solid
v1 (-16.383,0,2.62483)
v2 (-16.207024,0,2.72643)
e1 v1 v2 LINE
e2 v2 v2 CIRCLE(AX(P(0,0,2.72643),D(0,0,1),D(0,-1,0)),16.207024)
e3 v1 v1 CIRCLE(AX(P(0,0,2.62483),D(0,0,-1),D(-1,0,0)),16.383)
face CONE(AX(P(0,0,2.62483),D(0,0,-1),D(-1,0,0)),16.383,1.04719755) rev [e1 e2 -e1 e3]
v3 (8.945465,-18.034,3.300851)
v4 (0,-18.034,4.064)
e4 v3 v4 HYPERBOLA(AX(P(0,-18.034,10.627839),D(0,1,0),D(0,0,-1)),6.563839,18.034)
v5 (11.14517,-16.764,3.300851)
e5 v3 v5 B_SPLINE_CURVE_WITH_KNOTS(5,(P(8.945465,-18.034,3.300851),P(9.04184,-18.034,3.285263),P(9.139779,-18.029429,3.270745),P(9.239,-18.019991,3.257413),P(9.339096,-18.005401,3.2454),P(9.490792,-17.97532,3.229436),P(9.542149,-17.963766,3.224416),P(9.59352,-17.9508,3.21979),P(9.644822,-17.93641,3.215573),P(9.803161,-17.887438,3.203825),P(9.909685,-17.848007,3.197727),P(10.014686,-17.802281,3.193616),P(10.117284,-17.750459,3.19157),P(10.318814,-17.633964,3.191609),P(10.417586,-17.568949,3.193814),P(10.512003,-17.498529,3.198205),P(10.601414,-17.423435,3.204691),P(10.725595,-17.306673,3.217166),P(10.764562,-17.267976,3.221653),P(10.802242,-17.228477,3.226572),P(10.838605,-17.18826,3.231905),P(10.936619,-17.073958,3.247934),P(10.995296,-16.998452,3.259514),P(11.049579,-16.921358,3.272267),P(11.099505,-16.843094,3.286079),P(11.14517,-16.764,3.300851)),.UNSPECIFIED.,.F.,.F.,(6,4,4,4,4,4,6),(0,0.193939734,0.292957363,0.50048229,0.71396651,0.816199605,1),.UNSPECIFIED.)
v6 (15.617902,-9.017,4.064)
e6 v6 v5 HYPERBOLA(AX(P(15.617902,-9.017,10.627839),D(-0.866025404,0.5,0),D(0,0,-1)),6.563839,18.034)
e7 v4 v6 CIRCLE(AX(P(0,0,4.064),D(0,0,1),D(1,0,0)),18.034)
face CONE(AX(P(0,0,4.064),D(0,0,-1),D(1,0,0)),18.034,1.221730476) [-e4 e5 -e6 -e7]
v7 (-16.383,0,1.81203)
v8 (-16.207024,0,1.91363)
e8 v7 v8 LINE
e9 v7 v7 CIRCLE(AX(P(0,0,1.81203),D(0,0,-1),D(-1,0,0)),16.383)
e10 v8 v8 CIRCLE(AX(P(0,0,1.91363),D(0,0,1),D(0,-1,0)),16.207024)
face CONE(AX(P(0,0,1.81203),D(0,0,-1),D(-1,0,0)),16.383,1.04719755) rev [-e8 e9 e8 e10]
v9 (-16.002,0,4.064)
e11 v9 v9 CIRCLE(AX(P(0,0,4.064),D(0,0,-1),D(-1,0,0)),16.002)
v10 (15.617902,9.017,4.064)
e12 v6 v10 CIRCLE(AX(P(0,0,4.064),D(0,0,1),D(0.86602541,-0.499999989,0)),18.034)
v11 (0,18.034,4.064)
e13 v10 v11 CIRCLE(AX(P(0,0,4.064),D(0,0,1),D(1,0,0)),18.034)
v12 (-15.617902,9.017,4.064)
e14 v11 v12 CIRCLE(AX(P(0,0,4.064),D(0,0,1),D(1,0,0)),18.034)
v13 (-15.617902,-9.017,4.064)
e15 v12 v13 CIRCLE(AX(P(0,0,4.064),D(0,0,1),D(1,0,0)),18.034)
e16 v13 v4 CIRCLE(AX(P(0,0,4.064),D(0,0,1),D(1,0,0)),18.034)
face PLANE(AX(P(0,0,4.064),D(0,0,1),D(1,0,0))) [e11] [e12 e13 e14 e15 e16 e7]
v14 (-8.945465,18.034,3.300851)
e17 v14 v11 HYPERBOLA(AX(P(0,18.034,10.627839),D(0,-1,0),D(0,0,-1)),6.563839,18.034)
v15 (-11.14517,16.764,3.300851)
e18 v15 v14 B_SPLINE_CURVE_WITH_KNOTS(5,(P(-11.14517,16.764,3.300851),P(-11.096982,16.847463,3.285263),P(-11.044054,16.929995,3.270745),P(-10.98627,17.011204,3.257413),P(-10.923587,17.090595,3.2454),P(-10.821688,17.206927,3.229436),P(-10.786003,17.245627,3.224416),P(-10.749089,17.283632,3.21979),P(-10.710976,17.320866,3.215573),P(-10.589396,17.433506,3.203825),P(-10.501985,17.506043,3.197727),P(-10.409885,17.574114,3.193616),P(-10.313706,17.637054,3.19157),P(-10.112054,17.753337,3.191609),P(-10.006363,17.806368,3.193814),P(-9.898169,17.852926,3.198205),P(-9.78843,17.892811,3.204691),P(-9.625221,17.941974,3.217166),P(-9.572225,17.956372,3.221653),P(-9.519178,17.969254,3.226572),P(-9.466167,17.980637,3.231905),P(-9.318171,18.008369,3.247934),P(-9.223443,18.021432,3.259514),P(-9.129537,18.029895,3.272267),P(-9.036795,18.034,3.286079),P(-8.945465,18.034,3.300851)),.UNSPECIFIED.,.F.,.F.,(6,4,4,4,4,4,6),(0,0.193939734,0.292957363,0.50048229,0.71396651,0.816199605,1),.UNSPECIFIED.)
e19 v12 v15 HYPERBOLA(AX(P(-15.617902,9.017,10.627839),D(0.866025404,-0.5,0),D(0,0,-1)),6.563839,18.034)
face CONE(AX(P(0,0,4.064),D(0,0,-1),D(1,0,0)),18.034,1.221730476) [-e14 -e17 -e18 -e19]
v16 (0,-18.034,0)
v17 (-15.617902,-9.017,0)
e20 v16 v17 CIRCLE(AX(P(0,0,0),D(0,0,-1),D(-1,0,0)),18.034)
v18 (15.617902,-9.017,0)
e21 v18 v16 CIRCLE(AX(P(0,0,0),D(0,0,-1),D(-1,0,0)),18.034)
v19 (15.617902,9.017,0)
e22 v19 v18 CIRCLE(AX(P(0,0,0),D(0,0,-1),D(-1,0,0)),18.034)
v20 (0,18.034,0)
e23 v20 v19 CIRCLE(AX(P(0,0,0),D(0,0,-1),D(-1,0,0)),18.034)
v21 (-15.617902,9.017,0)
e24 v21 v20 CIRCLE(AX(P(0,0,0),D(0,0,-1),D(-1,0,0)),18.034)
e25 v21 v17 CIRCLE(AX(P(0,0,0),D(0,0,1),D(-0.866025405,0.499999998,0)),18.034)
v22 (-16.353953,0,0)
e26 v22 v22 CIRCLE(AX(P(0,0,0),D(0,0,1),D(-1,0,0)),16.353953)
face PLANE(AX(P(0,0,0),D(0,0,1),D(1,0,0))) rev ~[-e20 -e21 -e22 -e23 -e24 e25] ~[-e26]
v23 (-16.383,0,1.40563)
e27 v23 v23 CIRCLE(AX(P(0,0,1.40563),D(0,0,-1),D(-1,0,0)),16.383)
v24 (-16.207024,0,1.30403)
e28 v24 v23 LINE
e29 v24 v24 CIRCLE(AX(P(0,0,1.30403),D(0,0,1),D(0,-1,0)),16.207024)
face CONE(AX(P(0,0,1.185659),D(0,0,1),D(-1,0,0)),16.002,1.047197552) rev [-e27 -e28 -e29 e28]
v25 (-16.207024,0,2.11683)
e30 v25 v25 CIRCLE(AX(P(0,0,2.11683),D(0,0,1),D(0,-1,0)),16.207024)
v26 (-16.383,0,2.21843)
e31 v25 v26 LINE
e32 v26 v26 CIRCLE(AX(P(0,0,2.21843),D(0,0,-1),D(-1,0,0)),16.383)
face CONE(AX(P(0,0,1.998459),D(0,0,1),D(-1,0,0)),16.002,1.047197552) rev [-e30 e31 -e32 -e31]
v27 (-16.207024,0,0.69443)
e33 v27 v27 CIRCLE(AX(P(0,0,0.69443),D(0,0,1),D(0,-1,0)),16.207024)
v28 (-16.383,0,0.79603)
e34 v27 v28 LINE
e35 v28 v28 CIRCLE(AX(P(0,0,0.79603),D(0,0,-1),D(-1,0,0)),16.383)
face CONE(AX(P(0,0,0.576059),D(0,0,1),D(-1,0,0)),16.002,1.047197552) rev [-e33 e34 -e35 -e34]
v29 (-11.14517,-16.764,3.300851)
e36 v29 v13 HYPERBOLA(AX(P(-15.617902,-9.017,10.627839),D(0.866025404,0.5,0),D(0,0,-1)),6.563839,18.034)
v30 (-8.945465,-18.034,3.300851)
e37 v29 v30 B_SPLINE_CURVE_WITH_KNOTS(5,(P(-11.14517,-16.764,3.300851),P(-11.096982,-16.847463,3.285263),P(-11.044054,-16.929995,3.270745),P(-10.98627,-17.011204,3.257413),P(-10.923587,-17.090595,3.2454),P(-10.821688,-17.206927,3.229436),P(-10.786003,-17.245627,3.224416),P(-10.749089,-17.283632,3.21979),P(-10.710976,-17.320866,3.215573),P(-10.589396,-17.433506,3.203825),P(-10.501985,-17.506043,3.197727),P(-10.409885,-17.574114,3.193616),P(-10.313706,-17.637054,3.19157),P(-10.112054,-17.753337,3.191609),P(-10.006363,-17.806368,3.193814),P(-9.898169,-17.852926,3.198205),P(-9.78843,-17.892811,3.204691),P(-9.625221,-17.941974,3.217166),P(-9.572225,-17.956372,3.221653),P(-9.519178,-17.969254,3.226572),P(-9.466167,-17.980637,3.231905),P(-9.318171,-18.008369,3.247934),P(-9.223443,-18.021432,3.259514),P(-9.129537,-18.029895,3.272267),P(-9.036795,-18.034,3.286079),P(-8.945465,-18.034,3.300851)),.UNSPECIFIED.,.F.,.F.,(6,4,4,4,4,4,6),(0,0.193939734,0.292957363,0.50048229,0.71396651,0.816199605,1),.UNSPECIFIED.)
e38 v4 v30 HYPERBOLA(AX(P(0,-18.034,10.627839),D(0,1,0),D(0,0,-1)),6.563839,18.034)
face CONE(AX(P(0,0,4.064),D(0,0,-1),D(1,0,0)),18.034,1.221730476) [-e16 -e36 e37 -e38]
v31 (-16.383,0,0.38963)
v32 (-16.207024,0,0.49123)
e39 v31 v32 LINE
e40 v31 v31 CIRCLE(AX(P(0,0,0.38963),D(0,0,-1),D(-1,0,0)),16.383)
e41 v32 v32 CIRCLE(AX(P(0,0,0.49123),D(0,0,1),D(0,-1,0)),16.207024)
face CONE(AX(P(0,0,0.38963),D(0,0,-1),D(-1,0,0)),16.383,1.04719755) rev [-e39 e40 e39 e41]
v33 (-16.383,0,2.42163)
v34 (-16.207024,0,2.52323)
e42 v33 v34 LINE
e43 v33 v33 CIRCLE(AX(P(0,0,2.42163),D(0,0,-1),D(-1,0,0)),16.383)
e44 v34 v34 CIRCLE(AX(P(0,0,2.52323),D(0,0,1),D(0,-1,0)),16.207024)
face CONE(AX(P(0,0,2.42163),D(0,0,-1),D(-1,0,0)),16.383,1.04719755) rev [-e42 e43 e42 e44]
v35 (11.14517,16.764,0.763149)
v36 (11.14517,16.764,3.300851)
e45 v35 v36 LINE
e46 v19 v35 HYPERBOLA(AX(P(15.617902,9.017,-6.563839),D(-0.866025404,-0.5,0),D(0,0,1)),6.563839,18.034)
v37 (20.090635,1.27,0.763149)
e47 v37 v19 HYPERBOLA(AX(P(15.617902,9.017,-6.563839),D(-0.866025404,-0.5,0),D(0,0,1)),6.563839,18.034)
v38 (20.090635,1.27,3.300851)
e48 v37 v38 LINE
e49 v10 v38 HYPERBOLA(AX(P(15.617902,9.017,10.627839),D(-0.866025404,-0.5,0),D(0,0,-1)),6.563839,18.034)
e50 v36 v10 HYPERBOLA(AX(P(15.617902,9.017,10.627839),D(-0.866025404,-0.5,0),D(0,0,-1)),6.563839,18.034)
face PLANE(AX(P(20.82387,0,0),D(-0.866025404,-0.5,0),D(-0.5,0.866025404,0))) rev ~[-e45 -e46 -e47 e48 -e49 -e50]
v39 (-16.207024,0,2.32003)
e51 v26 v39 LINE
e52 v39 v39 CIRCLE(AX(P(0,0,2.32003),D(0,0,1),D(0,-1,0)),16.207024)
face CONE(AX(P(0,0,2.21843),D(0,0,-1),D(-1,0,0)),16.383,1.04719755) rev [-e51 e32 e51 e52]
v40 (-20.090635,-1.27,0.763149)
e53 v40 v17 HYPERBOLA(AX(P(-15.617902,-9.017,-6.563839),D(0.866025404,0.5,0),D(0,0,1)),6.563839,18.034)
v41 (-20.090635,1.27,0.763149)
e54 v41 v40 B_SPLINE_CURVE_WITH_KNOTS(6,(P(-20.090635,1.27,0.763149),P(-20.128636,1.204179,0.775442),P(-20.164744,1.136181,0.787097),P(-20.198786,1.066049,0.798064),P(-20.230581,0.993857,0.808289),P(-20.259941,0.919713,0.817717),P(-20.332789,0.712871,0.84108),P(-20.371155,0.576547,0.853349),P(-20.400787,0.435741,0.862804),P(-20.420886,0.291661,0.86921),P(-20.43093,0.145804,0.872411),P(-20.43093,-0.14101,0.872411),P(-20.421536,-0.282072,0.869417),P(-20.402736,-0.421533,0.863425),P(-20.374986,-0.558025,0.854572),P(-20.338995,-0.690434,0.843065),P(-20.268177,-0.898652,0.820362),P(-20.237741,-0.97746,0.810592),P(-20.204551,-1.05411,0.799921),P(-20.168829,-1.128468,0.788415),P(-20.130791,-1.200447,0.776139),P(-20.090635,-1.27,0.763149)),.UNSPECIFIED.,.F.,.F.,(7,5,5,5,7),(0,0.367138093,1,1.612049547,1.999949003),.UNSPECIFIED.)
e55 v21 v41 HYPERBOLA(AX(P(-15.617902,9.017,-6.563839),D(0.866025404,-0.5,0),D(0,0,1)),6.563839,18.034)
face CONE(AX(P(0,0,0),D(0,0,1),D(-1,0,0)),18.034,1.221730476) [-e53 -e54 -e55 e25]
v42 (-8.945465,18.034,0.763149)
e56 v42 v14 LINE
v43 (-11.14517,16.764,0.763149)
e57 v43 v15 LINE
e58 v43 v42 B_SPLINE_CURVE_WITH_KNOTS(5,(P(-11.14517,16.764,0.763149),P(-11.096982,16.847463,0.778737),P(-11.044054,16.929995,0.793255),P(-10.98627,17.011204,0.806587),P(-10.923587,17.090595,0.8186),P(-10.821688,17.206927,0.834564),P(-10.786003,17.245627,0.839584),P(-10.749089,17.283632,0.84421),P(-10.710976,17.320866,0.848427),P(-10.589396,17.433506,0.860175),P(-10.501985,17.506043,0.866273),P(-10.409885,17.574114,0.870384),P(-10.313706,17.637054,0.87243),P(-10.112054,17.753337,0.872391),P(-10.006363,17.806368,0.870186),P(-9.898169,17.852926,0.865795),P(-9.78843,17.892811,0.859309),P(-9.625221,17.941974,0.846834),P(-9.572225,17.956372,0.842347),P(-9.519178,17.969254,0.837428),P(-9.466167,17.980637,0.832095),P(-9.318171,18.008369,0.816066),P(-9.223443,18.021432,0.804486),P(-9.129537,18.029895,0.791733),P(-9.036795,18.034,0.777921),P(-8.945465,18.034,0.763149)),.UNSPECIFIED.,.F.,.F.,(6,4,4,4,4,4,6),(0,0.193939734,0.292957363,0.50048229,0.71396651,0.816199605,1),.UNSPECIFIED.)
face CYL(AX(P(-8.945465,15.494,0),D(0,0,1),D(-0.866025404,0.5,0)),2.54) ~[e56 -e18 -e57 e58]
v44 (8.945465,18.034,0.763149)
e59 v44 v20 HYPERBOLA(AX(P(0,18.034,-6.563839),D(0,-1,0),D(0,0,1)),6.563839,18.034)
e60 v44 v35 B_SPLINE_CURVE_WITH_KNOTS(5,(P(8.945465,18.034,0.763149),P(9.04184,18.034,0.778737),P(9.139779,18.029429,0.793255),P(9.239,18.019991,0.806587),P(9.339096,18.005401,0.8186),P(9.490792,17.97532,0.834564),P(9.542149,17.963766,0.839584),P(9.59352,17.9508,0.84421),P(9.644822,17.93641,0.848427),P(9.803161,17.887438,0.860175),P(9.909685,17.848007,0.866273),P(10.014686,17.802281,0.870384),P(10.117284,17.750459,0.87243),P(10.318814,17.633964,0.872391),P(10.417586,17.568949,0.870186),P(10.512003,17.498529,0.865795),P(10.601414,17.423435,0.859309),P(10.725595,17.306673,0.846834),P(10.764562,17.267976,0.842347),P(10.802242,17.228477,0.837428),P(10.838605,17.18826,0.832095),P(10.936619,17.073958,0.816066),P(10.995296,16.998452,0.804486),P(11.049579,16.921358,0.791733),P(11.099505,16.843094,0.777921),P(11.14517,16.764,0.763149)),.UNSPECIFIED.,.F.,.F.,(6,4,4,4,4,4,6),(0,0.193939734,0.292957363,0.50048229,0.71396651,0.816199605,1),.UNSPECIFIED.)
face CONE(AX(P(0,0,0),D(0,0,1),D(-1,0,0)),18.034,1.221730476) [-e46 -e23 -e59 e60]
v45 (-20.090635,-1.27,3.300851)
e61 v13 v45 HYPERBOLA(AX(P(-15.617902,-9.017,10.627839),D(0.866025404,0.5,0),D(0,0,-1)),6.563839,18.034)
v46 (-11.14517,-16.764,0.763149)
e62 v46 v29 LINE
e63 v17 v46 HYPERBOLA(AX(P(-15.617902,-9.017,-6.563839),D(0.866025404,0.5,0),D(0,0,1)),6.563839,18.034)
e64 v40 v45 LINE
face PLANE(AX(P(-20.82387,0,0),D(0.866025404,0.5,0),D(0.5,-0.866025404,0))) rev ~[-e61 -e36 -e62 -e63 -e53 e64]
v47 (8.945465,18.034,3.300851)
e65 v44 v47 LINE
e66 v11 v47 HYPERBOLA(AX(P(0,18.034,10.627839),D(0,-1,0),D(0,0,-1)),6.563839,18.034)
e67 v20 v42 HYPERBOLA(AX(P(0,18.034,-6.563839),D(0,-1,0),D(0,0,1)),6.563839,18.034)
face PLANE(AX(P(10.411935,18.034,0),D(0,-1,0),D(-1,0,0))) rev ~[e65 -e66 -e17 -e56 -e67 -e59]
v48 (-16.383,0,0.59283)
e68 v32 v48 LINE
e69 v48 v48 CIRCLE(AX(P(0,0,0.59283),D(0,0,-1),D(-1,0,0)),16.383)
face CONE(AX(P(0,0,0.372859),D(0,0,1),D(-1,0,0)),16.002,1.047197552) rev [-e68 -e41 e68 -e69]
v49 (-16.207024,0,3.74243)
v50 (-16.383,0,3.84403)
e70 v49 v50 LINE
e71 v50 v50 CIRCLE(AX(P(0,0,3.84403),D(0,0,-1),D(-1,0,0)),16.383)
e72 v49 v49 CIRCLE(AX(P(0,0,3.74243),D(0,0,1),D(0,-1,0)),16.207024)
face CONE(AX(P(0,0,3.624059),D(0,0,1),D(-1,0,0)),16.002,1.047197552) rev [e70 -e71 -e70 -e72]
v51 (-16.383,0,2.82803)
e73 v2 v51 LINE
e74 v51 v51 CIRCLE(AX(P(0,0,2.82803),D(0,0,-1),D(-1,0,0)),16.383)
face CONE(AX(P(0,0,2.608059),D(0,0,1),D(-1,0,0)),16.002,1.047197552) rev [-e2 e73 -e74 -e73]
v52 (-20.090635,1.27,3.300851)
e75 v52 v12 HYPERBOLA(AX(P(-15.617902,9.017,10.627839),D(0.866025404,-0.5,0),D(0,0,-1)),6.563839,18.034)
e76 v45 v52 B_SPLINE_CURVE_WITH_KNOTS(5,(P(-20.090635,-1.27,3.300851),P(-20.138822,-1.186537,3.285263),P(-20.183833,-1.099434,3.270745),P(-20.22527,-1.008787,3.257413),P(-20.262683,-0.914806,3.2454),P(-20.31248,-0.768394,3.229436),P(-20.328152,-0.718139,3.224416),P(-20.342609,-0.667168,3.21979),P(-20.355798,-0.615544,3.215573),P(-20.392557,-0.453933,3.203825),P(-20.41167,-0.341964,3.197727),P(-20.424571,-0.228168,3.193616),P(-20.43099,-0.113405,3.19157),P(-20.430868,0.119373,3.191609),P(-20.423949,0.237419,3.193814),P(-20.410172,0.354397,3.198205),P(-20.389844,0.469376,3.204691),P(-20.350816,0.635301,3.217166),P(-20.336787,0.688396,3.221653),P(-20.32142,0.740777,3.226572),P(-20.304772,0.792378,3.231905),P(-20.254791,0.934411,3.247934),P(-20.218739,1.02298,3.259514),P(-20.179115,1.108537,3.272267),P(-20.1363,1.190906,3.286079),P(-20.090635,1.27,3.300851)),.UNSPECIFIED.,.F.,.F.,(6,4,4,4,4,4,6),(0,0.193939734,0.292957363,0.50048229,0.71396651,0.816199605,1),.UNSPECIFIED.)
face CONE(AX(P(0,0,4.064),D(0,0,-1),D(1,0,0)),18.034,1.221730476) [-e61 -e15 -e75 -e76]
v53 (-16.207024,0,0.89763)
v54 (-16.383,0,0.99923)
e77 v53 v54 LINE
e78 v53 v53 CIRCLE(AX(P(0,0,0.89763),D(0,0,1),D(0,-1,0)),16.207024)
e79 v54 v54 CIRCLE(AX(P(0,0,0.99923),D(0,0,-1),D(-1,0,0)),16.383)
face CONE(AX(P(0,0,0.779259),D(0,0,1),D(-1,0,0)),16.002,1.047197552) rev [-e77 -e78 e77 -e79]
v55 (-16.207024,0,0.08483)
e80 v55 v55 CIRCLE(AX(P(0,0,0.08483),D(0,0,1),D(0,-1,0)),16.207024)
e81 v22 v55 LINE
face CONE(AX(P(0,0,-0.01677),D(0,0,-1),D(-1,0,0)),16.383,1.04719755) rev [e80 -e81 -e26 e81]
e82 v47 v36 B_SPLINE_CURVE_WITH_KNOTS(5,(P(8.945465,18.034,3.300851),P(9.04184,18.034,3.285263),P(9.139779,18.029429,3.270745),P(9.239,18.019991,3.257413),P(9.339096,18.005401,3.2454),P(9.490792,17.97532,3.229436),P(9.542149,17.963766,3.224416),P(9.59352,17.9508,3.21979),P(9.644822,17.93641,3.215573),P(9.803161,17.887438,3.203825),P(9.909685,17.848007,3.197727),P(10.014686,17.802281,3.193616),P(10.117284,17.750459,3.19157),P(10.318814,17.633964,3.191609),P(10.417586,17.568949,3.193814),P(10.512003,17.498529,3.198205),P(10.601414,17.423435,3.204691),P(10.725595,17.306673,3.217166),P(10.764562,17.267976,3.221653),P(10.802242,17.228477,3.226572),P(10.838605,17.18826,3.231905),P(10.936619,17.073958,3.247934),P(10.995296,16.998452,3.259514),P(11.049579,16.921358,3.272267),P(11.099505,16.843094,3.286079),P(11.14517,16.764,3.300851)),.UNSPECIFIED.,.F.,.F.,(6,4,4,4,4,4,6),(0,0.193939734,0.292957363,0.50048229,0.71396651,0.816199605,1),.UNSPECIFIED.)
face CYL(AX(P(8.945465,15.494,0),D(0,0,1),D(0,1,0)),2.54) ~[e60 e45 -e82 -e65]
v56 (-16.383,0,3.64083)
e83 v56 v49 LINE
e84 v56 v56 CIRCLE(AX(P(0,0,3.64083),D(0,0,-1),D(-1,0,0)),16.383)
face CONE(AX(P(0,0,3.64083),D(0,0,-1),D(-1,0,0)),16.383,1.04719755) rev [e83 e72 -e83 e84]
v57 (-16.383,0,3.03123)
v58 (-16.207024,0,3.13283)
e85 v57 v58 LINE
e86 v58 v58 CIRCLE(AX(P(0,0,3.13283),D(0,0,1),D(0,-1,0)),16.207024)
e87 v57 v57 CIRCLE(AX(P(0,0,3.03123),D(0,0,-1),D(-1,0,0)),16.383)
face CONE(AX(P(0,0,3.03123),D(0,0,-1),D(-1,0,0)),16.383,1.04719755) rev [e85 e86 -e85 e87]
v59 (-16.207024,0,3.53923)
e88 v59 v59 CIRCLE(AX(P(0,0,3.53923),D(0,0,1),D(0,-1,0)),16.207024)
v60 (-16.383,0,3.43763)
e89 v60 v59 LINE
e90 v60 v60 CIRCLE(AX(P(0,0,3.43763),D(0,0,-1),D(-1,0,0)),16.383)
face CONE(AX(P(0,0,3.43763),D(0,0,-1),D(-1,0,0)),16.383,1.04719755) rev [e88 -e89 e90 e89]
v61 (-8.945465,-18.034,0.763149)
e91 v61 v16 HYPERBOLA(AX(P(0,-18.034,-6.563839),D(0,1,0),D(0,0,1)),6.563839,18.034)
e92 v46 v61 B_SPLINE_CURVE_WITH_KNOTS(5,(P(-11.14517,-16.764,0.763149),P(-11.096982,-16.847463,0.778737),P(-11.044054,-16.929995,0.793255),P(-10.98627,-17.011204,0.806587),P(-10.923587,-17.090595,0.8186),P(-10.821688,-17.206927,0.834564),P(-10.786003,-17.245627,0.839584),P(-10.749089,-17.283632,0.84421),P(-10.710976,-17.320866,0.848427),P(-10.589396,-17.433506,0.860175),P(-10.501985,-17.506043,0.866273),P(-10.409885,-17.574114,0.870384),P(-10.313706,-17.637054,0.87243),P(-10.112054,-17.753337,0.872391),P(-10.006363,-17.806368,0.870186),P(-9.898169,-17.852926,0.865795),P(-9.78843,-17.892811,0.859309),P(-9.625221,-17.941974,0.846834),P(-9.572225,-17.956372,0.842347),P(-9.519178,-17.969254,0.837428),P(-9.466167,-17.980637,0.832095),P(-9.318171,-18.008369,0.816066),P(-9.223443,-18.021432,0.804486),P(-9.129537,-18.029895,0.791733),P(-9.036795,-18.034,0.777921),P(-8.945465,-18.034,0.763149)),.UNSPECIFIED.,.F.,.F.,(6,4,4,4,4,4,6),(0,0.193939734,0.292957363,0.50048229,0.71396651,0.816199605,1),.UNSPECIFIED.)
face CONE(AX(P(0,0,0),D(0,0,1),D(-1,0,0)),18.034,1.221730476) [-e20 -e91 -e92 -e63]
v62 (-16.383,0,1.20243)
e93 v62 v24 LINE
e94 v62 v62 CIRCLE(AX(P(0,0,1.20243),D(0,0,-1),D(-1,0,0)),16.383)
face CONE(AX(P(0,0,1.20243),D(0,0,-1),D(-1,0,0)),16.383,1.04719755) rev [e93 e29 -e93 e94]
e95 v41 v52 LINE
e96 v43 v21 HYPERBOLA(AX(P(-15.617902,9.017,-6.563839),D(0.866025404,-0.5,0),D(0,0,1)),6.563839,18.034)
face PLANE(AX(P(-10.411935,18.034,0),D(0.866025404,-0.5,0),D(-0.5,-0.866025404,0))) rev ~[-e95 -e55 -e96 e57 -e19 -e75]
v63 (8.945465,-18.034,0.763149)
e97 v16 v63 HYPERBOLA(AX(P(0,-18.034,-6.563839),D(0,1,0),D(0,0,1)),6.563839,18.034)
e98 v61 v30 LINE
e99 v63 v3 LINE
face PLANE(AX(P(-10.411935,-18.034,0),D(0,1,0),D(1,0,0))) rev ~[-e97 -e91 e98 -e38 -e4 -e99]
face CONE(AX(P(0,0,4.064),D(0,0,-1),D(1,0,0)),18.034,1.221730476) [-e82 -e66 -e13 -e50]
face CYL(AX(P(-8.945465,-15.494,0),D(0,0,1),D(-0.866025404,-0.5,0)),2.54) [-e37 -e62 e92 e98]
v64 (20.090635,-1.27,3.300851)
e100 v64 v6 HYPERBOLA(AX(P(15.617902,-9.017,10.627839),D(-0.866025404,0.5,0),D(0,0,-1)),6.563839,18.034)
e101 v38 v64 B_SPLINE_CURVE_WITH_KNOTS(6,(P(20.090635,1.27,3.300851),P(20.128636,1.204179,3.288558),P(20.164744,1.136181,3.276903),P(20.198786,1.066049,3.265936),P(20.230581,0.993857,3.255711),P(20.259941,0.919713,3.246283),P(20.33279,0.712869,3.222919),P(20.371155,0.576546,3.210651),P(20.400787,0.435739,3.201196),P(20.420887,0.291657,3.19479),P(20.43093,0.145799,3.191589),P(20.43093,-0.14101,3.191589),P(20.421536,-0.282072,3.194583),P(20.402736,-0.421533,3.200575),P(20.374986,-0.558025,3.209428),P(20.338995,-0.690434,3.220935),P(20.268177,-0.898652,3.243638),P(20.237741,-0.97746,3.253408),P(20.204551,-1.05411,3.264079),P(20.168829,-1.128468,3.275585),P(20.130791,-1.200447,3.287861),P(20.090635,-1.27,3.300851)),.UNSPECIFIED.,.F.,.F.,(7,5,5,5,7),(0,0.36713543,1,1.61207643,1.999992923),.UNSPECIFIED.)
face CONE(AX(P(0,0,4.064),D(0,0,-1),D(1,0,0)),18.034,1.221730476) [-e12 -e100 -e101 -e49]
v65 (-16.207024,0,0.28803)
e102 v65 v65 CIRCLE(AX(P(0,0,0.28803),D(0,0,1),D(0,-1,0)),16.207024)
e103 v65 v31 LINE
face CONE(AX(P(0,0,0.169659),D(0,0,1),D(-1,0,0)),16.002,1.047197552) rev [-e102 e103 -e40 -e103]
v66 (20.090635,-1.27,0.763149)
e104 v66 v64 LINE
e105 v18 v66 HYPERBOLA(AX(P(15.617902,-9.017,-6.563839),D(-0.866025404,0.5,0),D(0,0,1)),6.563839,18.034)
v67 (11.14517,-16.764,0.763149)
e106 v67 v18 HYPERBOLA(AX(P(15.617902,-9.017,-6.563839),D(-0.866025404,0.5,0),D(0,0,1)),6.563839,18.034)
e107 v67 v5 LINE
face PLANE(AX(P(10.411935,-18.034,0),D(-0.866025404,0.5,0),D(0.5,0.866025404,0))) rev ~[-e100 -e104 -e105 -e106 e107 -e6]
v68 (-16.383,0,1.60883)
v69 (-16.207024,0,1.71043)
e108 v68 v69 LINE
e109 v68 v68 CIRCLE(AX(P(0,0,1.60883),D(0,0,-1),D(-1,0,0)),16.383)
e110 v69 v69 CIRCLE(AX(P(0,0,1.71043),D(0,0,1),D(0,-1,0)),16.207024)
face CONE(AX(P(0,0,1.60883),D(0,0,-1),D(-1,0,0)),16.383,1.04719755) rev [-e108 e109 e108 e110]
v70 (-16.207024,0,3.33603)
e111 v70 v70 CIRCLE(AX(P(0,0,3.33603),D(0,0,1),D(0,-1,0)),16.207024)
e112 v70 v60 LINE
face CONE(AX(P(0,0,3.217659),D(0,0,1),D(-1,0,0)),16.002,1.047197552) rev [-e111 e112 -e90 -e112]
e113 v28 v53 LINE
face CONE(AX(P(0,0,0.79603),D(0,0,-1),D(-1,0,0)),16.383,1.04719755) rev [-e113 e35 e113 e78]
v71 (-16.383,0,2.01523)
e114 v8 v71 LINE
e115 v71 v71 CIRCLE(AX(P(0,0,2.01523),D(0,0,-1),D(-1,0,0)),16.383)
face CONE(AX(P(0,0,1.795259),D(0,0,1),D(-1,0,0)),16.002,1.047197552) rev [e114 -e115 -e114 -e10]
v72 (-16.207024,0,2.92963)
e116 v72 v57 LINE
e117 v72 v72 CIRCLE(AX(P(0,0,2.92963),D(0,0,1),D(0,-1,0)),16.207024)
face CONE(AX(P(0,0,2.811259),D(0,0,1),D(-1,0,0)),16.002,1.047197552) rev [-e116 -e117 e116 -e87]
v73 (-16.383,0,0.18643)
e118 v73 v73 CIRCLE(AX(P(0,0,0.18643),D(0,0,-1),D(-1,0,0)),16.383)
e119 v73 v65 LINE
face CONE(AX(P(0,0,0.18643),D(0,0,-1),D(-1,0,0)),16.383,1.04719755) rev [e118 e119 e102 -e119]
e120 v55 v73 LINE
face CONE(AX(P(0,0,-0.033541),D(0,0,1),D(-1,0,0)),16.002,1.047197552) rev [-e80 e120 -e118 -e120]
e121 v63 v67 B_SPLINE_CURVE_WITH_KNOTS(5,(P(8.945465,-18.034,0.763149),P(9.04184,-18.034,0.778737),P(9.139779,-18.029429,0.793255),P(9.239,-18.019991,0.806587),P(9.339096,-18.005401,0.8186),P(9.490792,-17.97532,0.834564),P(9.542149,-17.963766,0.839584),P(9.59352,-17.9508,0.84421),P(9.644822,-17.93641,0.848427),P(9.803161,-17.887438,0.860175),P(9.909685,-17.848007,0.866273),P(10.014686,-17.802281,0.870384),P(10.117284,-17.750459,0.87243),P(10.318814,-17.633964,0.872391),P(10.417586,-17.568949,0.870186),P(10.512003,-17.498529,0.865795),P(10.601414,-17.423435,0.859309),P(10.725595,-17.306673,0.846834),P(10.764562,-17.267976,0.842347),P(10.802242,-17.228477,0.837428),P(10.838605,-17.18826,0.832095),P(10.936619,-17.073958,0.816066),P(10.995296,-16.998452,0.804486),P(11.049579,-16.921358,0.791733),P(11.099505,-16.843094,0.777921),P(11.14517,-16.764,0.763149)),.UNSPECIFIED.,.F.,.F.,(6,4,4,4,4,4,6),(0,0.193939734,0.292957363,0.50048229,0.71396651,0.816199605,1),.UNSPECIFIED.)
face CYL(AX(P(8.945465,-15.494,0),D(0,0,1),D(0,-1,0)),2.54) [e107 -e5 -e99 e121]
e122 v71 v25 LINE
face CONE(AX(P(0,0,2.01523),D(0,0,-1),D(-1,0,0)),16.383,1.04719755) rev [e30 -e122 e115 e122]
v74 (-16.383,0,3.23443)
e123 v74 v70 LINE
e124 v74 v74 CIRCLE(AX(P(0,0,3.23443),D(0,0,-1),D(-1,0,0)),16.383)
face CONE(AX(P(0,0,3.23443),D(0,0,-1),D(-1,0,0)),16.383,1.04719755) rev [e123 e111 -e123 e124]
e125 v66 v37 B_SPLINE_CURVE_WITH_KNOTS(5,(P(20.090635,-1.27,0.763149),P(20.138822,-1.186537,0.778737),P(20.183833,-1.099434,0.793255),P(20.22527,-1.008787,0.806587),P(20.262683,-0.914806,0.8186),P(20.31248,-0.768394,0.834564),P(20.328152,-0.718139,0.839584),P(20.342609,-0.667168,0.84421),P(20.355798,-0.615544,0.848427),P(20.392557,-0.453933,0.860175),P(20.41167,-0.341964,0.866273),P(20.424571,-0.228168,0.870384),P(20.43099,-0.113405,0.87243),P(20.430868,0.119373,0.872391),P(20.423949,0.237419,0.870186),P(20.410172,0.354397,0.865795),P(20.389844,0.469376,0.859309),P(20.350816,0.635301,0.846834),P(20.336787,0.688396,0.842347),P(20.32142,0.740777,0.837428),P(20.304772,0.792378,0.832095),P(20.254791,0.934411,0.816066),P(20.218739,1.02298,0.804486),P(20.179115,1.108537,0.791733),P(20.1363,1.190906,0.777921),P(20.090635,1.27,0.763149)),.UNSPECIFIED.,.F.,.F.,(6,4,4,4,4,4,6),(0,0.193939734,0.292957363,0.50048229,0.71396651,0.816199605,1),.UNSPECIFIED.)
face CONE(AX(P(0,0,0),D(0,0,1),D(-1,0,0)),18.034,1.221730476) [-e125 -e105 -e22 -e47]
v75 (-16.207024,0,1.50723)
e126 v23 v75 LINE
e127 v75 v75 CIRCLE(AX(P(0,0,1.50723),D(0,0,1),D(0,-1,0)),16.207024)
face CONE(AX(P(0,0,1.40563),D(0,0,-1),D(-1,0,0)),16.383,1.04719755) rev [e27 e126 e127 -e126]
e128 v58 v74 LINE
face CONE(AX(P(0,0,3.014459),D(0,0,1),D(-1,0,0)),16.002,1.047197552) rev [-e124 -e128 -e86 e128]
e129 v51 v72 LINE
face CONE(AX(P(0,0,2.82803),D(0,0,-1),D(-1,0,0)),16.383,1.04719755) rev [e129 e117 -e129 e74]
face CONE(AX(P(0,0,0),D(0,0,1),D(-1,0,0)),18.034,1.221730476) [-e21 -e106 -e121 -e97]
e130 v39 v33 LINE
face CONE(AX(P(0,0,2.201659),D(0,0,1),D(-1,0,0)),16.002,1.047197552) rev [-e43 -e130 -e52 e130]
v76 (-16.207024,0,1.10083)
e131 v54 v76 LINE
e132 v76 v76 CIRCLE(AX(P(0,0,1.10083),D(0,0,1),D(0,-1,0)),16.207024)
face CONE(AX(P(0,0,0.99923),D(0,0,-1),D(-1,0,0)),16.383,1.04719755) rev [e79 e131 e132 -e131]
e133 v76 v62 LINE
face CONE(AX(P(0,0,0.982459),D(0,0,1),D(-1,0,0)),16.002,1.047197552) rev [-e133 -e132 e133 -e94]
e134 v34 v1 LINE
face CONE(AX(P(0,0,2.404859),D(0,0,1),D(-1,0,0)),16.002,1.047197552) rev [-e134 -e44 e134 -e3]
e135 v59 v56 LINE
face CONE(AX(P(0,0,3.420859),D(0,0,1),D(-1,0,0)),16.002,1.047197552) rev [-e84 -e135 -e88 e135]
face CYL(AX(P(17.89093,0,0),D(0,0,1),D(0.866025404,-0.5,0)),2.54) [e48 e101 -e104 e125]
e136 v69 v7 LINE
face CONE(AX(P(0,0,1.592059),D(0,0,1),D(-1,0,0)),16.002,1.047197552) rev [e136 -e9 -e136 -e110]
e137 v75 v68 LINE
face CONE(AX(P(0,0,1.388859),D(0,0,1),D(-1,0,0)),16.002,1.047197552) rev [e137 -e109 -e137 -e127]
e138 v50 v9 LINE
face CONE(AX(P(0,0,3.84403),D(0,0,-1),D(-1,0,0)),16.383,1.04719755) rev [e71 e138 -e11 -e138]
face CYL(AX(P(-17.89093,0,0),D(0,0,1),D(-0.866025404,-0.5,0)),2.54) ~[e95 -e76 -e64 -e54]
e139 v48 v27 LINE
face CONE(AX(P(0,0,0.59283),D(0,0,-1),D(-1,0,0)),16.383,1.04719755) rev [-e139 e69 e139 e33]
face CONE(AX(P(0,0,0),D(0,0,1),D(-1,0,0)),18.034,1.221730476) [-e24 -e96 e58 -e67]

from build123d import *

# Parameters (mm, degrees)
SKETCH1_R          = 16.002
EXTRUDE1_DEPTH     = 4.064
FILLET1_R          = 2.54
SKETCH2_OUTSIDE_W  = 81.62
SKETCH2_OUTSIDE_H  = 76.826
SKETCH2_OUTSIDE_R  = 18.034
CUT_EXTRUDE1_DEPTH = 5.064
CUT_EXTRUDE1_DRAFT = -70
SKETCH3_OUTSIDE_W  = 81.62
SKETCH3_OUTSIDE_H  = 76.826
SKETCH3_OUTSIDE_R  = 18.034
CUT_EXTRUDE2_DEPTH = 5.0640001
CUT_EXTRUDE2_DRAFT = -70
LPATTERN1_COUNT    = 20
LPATTERN1_PITCH    = 0.2032


with BuildPart() as part:
    # Sketch1 → Extrude1 (new body)
    with BuildSketch(Plane.XY):
        Polygon((-20.823869509, 0), (-10.411934755, -18.034), (10.411934755, -18.034), (20.823869509, 0), (10.411934755, 18.034), (-10.411934755, 18.034), align=None)
        Circle(SKETCH1_R, mode=Mode.SUBTRACT)
    extrude(amount=EXTRUDE1_DEPTH)

    # Fillet1
    fillet1_edges = [part.edges().sort_by_distance(p)[0] for p in [
        (20.823869509, 0, 2.032),
        (10.411934755, -18.034, 2.032),
        (-10.411934755, -18.034, 2.032),
        (-20.823869509, 0, 2.032),
        (-10.411934755, 18.034, 2.032),
        (10.411934755, 18.034, 2.032),
    ]]
    fillet(fillet1_edges, radius=FILLET1_R)


with BuildPart() as cut_extrude1_tool:
    # Sketch2 outside → Cut-Extrude1 (with draft: the straight prism first)
    with BuildSketch(Plane.XY.offset(4.064)):
        Rectangle(SKETCH2_OUTSIDE_W, SKETCH2_OUTSIDE_H)
        Circle(SKETCH2_OUTSIDE_R, mode=Mode.SUBTRACT)
    extrude(amount=-CUT_EXTRUDE1_DEPTH)
    # Cut-Extrude1: the draft: its side faces are tilted about the plane it starts from
    cut_extrude1_sides = [cut_extrude1_tool.faces().sort_by_distance(p)[0] for p in [
        (0, -38.413, 1.532),
        (40.81, 0, 1.532),
        (0, 38.413, 1.532),
        (-40.81, 0, 1.532),
        (-18.034, 0, 1.532),
    ]]
    draft(cut_extrude1_sides, Plane.XY.offset(4.064), CUT_EXTRUDE1_DRAFT)


with BuildPart() as part_1:
    add(part.part)

    # Cut-Extrude1: cut by cut_extrude1_tool
    add(cut_extrude1_tool.part, mode=Mode.SUBTRACT)


with BuildPart() as cut_extrude2_tool:
    # Sketch3 outside → Cut-Extrude2 (with draft: the straight prism first)
    with BuildSketch(Plane(origin=(0, 0, 0), x_dir=(-1, 0, 0), z_dir=(0, 0, -1))):
        Rectangle(SKETCH3_OUTSIDE_W, SKETCH3_OUTSIDE_H)
        Circle(SKETCH3_OUTSIDE_R, mode=Mode.SUBTRACT)
    extrude(amount=-CUT_EXTRUDE2_DEPTH)
    # Cut-Extrude2: the draft: its side faces are tilted about the plane it starts from
    cut_extrude2_sides = [cut_extrude2_tool.faces().sort_by_distance(p)[0] for p in [
        (0, -38.413, 2.53200005),
        (-40.81, 0, 2.53200005),
        (0, 38.413, 2.53200005),
        (40.81, 0, 2.53200005),
        (18.034, 0, 2.53200005),
    ]]
    draft(cut_extrude2_sides, Plane(origin=(0, 0, 0), x_dir=(-1, 0, 0), z_dir=(0, 0, -1)), CUT_EXTRUDE2_DRAFT)


with BuildPart() as part_2:
    add(part_1.part)

    # Cut-Extrude2: cut by cut_extrude2_tool
    add(cut_extrude2_tool.part, mode=Mode.SUBTRACT)

    # Sketch4 → Cut-Revolve1 (revolve, cut)
    with BuildSketch(Plane(origin=(0, 0, 0), x_dir=(1, 0, 0), z_dir=(0, 1, 0))):
        Polygon((-16.002, -4.064), (-16.002, -3.624059095), (-16.383, -3.844029547), align=None)
    cut_revolve1 = revolve(axis=Axis((0, 0, 4.064), (0, 0, -1)), mode=Mode.SUBTRACT)

    # LPattern1: Cut-Revolve1 ×20
    with Locations(*[(0, 0, -i * LPATTERN1_PITCH) for i in range(1, LPATTERN1_COUNT)]):
        add(cut_revolve1, mode=Mode.SUBTRACT)


solid = part_2.part
